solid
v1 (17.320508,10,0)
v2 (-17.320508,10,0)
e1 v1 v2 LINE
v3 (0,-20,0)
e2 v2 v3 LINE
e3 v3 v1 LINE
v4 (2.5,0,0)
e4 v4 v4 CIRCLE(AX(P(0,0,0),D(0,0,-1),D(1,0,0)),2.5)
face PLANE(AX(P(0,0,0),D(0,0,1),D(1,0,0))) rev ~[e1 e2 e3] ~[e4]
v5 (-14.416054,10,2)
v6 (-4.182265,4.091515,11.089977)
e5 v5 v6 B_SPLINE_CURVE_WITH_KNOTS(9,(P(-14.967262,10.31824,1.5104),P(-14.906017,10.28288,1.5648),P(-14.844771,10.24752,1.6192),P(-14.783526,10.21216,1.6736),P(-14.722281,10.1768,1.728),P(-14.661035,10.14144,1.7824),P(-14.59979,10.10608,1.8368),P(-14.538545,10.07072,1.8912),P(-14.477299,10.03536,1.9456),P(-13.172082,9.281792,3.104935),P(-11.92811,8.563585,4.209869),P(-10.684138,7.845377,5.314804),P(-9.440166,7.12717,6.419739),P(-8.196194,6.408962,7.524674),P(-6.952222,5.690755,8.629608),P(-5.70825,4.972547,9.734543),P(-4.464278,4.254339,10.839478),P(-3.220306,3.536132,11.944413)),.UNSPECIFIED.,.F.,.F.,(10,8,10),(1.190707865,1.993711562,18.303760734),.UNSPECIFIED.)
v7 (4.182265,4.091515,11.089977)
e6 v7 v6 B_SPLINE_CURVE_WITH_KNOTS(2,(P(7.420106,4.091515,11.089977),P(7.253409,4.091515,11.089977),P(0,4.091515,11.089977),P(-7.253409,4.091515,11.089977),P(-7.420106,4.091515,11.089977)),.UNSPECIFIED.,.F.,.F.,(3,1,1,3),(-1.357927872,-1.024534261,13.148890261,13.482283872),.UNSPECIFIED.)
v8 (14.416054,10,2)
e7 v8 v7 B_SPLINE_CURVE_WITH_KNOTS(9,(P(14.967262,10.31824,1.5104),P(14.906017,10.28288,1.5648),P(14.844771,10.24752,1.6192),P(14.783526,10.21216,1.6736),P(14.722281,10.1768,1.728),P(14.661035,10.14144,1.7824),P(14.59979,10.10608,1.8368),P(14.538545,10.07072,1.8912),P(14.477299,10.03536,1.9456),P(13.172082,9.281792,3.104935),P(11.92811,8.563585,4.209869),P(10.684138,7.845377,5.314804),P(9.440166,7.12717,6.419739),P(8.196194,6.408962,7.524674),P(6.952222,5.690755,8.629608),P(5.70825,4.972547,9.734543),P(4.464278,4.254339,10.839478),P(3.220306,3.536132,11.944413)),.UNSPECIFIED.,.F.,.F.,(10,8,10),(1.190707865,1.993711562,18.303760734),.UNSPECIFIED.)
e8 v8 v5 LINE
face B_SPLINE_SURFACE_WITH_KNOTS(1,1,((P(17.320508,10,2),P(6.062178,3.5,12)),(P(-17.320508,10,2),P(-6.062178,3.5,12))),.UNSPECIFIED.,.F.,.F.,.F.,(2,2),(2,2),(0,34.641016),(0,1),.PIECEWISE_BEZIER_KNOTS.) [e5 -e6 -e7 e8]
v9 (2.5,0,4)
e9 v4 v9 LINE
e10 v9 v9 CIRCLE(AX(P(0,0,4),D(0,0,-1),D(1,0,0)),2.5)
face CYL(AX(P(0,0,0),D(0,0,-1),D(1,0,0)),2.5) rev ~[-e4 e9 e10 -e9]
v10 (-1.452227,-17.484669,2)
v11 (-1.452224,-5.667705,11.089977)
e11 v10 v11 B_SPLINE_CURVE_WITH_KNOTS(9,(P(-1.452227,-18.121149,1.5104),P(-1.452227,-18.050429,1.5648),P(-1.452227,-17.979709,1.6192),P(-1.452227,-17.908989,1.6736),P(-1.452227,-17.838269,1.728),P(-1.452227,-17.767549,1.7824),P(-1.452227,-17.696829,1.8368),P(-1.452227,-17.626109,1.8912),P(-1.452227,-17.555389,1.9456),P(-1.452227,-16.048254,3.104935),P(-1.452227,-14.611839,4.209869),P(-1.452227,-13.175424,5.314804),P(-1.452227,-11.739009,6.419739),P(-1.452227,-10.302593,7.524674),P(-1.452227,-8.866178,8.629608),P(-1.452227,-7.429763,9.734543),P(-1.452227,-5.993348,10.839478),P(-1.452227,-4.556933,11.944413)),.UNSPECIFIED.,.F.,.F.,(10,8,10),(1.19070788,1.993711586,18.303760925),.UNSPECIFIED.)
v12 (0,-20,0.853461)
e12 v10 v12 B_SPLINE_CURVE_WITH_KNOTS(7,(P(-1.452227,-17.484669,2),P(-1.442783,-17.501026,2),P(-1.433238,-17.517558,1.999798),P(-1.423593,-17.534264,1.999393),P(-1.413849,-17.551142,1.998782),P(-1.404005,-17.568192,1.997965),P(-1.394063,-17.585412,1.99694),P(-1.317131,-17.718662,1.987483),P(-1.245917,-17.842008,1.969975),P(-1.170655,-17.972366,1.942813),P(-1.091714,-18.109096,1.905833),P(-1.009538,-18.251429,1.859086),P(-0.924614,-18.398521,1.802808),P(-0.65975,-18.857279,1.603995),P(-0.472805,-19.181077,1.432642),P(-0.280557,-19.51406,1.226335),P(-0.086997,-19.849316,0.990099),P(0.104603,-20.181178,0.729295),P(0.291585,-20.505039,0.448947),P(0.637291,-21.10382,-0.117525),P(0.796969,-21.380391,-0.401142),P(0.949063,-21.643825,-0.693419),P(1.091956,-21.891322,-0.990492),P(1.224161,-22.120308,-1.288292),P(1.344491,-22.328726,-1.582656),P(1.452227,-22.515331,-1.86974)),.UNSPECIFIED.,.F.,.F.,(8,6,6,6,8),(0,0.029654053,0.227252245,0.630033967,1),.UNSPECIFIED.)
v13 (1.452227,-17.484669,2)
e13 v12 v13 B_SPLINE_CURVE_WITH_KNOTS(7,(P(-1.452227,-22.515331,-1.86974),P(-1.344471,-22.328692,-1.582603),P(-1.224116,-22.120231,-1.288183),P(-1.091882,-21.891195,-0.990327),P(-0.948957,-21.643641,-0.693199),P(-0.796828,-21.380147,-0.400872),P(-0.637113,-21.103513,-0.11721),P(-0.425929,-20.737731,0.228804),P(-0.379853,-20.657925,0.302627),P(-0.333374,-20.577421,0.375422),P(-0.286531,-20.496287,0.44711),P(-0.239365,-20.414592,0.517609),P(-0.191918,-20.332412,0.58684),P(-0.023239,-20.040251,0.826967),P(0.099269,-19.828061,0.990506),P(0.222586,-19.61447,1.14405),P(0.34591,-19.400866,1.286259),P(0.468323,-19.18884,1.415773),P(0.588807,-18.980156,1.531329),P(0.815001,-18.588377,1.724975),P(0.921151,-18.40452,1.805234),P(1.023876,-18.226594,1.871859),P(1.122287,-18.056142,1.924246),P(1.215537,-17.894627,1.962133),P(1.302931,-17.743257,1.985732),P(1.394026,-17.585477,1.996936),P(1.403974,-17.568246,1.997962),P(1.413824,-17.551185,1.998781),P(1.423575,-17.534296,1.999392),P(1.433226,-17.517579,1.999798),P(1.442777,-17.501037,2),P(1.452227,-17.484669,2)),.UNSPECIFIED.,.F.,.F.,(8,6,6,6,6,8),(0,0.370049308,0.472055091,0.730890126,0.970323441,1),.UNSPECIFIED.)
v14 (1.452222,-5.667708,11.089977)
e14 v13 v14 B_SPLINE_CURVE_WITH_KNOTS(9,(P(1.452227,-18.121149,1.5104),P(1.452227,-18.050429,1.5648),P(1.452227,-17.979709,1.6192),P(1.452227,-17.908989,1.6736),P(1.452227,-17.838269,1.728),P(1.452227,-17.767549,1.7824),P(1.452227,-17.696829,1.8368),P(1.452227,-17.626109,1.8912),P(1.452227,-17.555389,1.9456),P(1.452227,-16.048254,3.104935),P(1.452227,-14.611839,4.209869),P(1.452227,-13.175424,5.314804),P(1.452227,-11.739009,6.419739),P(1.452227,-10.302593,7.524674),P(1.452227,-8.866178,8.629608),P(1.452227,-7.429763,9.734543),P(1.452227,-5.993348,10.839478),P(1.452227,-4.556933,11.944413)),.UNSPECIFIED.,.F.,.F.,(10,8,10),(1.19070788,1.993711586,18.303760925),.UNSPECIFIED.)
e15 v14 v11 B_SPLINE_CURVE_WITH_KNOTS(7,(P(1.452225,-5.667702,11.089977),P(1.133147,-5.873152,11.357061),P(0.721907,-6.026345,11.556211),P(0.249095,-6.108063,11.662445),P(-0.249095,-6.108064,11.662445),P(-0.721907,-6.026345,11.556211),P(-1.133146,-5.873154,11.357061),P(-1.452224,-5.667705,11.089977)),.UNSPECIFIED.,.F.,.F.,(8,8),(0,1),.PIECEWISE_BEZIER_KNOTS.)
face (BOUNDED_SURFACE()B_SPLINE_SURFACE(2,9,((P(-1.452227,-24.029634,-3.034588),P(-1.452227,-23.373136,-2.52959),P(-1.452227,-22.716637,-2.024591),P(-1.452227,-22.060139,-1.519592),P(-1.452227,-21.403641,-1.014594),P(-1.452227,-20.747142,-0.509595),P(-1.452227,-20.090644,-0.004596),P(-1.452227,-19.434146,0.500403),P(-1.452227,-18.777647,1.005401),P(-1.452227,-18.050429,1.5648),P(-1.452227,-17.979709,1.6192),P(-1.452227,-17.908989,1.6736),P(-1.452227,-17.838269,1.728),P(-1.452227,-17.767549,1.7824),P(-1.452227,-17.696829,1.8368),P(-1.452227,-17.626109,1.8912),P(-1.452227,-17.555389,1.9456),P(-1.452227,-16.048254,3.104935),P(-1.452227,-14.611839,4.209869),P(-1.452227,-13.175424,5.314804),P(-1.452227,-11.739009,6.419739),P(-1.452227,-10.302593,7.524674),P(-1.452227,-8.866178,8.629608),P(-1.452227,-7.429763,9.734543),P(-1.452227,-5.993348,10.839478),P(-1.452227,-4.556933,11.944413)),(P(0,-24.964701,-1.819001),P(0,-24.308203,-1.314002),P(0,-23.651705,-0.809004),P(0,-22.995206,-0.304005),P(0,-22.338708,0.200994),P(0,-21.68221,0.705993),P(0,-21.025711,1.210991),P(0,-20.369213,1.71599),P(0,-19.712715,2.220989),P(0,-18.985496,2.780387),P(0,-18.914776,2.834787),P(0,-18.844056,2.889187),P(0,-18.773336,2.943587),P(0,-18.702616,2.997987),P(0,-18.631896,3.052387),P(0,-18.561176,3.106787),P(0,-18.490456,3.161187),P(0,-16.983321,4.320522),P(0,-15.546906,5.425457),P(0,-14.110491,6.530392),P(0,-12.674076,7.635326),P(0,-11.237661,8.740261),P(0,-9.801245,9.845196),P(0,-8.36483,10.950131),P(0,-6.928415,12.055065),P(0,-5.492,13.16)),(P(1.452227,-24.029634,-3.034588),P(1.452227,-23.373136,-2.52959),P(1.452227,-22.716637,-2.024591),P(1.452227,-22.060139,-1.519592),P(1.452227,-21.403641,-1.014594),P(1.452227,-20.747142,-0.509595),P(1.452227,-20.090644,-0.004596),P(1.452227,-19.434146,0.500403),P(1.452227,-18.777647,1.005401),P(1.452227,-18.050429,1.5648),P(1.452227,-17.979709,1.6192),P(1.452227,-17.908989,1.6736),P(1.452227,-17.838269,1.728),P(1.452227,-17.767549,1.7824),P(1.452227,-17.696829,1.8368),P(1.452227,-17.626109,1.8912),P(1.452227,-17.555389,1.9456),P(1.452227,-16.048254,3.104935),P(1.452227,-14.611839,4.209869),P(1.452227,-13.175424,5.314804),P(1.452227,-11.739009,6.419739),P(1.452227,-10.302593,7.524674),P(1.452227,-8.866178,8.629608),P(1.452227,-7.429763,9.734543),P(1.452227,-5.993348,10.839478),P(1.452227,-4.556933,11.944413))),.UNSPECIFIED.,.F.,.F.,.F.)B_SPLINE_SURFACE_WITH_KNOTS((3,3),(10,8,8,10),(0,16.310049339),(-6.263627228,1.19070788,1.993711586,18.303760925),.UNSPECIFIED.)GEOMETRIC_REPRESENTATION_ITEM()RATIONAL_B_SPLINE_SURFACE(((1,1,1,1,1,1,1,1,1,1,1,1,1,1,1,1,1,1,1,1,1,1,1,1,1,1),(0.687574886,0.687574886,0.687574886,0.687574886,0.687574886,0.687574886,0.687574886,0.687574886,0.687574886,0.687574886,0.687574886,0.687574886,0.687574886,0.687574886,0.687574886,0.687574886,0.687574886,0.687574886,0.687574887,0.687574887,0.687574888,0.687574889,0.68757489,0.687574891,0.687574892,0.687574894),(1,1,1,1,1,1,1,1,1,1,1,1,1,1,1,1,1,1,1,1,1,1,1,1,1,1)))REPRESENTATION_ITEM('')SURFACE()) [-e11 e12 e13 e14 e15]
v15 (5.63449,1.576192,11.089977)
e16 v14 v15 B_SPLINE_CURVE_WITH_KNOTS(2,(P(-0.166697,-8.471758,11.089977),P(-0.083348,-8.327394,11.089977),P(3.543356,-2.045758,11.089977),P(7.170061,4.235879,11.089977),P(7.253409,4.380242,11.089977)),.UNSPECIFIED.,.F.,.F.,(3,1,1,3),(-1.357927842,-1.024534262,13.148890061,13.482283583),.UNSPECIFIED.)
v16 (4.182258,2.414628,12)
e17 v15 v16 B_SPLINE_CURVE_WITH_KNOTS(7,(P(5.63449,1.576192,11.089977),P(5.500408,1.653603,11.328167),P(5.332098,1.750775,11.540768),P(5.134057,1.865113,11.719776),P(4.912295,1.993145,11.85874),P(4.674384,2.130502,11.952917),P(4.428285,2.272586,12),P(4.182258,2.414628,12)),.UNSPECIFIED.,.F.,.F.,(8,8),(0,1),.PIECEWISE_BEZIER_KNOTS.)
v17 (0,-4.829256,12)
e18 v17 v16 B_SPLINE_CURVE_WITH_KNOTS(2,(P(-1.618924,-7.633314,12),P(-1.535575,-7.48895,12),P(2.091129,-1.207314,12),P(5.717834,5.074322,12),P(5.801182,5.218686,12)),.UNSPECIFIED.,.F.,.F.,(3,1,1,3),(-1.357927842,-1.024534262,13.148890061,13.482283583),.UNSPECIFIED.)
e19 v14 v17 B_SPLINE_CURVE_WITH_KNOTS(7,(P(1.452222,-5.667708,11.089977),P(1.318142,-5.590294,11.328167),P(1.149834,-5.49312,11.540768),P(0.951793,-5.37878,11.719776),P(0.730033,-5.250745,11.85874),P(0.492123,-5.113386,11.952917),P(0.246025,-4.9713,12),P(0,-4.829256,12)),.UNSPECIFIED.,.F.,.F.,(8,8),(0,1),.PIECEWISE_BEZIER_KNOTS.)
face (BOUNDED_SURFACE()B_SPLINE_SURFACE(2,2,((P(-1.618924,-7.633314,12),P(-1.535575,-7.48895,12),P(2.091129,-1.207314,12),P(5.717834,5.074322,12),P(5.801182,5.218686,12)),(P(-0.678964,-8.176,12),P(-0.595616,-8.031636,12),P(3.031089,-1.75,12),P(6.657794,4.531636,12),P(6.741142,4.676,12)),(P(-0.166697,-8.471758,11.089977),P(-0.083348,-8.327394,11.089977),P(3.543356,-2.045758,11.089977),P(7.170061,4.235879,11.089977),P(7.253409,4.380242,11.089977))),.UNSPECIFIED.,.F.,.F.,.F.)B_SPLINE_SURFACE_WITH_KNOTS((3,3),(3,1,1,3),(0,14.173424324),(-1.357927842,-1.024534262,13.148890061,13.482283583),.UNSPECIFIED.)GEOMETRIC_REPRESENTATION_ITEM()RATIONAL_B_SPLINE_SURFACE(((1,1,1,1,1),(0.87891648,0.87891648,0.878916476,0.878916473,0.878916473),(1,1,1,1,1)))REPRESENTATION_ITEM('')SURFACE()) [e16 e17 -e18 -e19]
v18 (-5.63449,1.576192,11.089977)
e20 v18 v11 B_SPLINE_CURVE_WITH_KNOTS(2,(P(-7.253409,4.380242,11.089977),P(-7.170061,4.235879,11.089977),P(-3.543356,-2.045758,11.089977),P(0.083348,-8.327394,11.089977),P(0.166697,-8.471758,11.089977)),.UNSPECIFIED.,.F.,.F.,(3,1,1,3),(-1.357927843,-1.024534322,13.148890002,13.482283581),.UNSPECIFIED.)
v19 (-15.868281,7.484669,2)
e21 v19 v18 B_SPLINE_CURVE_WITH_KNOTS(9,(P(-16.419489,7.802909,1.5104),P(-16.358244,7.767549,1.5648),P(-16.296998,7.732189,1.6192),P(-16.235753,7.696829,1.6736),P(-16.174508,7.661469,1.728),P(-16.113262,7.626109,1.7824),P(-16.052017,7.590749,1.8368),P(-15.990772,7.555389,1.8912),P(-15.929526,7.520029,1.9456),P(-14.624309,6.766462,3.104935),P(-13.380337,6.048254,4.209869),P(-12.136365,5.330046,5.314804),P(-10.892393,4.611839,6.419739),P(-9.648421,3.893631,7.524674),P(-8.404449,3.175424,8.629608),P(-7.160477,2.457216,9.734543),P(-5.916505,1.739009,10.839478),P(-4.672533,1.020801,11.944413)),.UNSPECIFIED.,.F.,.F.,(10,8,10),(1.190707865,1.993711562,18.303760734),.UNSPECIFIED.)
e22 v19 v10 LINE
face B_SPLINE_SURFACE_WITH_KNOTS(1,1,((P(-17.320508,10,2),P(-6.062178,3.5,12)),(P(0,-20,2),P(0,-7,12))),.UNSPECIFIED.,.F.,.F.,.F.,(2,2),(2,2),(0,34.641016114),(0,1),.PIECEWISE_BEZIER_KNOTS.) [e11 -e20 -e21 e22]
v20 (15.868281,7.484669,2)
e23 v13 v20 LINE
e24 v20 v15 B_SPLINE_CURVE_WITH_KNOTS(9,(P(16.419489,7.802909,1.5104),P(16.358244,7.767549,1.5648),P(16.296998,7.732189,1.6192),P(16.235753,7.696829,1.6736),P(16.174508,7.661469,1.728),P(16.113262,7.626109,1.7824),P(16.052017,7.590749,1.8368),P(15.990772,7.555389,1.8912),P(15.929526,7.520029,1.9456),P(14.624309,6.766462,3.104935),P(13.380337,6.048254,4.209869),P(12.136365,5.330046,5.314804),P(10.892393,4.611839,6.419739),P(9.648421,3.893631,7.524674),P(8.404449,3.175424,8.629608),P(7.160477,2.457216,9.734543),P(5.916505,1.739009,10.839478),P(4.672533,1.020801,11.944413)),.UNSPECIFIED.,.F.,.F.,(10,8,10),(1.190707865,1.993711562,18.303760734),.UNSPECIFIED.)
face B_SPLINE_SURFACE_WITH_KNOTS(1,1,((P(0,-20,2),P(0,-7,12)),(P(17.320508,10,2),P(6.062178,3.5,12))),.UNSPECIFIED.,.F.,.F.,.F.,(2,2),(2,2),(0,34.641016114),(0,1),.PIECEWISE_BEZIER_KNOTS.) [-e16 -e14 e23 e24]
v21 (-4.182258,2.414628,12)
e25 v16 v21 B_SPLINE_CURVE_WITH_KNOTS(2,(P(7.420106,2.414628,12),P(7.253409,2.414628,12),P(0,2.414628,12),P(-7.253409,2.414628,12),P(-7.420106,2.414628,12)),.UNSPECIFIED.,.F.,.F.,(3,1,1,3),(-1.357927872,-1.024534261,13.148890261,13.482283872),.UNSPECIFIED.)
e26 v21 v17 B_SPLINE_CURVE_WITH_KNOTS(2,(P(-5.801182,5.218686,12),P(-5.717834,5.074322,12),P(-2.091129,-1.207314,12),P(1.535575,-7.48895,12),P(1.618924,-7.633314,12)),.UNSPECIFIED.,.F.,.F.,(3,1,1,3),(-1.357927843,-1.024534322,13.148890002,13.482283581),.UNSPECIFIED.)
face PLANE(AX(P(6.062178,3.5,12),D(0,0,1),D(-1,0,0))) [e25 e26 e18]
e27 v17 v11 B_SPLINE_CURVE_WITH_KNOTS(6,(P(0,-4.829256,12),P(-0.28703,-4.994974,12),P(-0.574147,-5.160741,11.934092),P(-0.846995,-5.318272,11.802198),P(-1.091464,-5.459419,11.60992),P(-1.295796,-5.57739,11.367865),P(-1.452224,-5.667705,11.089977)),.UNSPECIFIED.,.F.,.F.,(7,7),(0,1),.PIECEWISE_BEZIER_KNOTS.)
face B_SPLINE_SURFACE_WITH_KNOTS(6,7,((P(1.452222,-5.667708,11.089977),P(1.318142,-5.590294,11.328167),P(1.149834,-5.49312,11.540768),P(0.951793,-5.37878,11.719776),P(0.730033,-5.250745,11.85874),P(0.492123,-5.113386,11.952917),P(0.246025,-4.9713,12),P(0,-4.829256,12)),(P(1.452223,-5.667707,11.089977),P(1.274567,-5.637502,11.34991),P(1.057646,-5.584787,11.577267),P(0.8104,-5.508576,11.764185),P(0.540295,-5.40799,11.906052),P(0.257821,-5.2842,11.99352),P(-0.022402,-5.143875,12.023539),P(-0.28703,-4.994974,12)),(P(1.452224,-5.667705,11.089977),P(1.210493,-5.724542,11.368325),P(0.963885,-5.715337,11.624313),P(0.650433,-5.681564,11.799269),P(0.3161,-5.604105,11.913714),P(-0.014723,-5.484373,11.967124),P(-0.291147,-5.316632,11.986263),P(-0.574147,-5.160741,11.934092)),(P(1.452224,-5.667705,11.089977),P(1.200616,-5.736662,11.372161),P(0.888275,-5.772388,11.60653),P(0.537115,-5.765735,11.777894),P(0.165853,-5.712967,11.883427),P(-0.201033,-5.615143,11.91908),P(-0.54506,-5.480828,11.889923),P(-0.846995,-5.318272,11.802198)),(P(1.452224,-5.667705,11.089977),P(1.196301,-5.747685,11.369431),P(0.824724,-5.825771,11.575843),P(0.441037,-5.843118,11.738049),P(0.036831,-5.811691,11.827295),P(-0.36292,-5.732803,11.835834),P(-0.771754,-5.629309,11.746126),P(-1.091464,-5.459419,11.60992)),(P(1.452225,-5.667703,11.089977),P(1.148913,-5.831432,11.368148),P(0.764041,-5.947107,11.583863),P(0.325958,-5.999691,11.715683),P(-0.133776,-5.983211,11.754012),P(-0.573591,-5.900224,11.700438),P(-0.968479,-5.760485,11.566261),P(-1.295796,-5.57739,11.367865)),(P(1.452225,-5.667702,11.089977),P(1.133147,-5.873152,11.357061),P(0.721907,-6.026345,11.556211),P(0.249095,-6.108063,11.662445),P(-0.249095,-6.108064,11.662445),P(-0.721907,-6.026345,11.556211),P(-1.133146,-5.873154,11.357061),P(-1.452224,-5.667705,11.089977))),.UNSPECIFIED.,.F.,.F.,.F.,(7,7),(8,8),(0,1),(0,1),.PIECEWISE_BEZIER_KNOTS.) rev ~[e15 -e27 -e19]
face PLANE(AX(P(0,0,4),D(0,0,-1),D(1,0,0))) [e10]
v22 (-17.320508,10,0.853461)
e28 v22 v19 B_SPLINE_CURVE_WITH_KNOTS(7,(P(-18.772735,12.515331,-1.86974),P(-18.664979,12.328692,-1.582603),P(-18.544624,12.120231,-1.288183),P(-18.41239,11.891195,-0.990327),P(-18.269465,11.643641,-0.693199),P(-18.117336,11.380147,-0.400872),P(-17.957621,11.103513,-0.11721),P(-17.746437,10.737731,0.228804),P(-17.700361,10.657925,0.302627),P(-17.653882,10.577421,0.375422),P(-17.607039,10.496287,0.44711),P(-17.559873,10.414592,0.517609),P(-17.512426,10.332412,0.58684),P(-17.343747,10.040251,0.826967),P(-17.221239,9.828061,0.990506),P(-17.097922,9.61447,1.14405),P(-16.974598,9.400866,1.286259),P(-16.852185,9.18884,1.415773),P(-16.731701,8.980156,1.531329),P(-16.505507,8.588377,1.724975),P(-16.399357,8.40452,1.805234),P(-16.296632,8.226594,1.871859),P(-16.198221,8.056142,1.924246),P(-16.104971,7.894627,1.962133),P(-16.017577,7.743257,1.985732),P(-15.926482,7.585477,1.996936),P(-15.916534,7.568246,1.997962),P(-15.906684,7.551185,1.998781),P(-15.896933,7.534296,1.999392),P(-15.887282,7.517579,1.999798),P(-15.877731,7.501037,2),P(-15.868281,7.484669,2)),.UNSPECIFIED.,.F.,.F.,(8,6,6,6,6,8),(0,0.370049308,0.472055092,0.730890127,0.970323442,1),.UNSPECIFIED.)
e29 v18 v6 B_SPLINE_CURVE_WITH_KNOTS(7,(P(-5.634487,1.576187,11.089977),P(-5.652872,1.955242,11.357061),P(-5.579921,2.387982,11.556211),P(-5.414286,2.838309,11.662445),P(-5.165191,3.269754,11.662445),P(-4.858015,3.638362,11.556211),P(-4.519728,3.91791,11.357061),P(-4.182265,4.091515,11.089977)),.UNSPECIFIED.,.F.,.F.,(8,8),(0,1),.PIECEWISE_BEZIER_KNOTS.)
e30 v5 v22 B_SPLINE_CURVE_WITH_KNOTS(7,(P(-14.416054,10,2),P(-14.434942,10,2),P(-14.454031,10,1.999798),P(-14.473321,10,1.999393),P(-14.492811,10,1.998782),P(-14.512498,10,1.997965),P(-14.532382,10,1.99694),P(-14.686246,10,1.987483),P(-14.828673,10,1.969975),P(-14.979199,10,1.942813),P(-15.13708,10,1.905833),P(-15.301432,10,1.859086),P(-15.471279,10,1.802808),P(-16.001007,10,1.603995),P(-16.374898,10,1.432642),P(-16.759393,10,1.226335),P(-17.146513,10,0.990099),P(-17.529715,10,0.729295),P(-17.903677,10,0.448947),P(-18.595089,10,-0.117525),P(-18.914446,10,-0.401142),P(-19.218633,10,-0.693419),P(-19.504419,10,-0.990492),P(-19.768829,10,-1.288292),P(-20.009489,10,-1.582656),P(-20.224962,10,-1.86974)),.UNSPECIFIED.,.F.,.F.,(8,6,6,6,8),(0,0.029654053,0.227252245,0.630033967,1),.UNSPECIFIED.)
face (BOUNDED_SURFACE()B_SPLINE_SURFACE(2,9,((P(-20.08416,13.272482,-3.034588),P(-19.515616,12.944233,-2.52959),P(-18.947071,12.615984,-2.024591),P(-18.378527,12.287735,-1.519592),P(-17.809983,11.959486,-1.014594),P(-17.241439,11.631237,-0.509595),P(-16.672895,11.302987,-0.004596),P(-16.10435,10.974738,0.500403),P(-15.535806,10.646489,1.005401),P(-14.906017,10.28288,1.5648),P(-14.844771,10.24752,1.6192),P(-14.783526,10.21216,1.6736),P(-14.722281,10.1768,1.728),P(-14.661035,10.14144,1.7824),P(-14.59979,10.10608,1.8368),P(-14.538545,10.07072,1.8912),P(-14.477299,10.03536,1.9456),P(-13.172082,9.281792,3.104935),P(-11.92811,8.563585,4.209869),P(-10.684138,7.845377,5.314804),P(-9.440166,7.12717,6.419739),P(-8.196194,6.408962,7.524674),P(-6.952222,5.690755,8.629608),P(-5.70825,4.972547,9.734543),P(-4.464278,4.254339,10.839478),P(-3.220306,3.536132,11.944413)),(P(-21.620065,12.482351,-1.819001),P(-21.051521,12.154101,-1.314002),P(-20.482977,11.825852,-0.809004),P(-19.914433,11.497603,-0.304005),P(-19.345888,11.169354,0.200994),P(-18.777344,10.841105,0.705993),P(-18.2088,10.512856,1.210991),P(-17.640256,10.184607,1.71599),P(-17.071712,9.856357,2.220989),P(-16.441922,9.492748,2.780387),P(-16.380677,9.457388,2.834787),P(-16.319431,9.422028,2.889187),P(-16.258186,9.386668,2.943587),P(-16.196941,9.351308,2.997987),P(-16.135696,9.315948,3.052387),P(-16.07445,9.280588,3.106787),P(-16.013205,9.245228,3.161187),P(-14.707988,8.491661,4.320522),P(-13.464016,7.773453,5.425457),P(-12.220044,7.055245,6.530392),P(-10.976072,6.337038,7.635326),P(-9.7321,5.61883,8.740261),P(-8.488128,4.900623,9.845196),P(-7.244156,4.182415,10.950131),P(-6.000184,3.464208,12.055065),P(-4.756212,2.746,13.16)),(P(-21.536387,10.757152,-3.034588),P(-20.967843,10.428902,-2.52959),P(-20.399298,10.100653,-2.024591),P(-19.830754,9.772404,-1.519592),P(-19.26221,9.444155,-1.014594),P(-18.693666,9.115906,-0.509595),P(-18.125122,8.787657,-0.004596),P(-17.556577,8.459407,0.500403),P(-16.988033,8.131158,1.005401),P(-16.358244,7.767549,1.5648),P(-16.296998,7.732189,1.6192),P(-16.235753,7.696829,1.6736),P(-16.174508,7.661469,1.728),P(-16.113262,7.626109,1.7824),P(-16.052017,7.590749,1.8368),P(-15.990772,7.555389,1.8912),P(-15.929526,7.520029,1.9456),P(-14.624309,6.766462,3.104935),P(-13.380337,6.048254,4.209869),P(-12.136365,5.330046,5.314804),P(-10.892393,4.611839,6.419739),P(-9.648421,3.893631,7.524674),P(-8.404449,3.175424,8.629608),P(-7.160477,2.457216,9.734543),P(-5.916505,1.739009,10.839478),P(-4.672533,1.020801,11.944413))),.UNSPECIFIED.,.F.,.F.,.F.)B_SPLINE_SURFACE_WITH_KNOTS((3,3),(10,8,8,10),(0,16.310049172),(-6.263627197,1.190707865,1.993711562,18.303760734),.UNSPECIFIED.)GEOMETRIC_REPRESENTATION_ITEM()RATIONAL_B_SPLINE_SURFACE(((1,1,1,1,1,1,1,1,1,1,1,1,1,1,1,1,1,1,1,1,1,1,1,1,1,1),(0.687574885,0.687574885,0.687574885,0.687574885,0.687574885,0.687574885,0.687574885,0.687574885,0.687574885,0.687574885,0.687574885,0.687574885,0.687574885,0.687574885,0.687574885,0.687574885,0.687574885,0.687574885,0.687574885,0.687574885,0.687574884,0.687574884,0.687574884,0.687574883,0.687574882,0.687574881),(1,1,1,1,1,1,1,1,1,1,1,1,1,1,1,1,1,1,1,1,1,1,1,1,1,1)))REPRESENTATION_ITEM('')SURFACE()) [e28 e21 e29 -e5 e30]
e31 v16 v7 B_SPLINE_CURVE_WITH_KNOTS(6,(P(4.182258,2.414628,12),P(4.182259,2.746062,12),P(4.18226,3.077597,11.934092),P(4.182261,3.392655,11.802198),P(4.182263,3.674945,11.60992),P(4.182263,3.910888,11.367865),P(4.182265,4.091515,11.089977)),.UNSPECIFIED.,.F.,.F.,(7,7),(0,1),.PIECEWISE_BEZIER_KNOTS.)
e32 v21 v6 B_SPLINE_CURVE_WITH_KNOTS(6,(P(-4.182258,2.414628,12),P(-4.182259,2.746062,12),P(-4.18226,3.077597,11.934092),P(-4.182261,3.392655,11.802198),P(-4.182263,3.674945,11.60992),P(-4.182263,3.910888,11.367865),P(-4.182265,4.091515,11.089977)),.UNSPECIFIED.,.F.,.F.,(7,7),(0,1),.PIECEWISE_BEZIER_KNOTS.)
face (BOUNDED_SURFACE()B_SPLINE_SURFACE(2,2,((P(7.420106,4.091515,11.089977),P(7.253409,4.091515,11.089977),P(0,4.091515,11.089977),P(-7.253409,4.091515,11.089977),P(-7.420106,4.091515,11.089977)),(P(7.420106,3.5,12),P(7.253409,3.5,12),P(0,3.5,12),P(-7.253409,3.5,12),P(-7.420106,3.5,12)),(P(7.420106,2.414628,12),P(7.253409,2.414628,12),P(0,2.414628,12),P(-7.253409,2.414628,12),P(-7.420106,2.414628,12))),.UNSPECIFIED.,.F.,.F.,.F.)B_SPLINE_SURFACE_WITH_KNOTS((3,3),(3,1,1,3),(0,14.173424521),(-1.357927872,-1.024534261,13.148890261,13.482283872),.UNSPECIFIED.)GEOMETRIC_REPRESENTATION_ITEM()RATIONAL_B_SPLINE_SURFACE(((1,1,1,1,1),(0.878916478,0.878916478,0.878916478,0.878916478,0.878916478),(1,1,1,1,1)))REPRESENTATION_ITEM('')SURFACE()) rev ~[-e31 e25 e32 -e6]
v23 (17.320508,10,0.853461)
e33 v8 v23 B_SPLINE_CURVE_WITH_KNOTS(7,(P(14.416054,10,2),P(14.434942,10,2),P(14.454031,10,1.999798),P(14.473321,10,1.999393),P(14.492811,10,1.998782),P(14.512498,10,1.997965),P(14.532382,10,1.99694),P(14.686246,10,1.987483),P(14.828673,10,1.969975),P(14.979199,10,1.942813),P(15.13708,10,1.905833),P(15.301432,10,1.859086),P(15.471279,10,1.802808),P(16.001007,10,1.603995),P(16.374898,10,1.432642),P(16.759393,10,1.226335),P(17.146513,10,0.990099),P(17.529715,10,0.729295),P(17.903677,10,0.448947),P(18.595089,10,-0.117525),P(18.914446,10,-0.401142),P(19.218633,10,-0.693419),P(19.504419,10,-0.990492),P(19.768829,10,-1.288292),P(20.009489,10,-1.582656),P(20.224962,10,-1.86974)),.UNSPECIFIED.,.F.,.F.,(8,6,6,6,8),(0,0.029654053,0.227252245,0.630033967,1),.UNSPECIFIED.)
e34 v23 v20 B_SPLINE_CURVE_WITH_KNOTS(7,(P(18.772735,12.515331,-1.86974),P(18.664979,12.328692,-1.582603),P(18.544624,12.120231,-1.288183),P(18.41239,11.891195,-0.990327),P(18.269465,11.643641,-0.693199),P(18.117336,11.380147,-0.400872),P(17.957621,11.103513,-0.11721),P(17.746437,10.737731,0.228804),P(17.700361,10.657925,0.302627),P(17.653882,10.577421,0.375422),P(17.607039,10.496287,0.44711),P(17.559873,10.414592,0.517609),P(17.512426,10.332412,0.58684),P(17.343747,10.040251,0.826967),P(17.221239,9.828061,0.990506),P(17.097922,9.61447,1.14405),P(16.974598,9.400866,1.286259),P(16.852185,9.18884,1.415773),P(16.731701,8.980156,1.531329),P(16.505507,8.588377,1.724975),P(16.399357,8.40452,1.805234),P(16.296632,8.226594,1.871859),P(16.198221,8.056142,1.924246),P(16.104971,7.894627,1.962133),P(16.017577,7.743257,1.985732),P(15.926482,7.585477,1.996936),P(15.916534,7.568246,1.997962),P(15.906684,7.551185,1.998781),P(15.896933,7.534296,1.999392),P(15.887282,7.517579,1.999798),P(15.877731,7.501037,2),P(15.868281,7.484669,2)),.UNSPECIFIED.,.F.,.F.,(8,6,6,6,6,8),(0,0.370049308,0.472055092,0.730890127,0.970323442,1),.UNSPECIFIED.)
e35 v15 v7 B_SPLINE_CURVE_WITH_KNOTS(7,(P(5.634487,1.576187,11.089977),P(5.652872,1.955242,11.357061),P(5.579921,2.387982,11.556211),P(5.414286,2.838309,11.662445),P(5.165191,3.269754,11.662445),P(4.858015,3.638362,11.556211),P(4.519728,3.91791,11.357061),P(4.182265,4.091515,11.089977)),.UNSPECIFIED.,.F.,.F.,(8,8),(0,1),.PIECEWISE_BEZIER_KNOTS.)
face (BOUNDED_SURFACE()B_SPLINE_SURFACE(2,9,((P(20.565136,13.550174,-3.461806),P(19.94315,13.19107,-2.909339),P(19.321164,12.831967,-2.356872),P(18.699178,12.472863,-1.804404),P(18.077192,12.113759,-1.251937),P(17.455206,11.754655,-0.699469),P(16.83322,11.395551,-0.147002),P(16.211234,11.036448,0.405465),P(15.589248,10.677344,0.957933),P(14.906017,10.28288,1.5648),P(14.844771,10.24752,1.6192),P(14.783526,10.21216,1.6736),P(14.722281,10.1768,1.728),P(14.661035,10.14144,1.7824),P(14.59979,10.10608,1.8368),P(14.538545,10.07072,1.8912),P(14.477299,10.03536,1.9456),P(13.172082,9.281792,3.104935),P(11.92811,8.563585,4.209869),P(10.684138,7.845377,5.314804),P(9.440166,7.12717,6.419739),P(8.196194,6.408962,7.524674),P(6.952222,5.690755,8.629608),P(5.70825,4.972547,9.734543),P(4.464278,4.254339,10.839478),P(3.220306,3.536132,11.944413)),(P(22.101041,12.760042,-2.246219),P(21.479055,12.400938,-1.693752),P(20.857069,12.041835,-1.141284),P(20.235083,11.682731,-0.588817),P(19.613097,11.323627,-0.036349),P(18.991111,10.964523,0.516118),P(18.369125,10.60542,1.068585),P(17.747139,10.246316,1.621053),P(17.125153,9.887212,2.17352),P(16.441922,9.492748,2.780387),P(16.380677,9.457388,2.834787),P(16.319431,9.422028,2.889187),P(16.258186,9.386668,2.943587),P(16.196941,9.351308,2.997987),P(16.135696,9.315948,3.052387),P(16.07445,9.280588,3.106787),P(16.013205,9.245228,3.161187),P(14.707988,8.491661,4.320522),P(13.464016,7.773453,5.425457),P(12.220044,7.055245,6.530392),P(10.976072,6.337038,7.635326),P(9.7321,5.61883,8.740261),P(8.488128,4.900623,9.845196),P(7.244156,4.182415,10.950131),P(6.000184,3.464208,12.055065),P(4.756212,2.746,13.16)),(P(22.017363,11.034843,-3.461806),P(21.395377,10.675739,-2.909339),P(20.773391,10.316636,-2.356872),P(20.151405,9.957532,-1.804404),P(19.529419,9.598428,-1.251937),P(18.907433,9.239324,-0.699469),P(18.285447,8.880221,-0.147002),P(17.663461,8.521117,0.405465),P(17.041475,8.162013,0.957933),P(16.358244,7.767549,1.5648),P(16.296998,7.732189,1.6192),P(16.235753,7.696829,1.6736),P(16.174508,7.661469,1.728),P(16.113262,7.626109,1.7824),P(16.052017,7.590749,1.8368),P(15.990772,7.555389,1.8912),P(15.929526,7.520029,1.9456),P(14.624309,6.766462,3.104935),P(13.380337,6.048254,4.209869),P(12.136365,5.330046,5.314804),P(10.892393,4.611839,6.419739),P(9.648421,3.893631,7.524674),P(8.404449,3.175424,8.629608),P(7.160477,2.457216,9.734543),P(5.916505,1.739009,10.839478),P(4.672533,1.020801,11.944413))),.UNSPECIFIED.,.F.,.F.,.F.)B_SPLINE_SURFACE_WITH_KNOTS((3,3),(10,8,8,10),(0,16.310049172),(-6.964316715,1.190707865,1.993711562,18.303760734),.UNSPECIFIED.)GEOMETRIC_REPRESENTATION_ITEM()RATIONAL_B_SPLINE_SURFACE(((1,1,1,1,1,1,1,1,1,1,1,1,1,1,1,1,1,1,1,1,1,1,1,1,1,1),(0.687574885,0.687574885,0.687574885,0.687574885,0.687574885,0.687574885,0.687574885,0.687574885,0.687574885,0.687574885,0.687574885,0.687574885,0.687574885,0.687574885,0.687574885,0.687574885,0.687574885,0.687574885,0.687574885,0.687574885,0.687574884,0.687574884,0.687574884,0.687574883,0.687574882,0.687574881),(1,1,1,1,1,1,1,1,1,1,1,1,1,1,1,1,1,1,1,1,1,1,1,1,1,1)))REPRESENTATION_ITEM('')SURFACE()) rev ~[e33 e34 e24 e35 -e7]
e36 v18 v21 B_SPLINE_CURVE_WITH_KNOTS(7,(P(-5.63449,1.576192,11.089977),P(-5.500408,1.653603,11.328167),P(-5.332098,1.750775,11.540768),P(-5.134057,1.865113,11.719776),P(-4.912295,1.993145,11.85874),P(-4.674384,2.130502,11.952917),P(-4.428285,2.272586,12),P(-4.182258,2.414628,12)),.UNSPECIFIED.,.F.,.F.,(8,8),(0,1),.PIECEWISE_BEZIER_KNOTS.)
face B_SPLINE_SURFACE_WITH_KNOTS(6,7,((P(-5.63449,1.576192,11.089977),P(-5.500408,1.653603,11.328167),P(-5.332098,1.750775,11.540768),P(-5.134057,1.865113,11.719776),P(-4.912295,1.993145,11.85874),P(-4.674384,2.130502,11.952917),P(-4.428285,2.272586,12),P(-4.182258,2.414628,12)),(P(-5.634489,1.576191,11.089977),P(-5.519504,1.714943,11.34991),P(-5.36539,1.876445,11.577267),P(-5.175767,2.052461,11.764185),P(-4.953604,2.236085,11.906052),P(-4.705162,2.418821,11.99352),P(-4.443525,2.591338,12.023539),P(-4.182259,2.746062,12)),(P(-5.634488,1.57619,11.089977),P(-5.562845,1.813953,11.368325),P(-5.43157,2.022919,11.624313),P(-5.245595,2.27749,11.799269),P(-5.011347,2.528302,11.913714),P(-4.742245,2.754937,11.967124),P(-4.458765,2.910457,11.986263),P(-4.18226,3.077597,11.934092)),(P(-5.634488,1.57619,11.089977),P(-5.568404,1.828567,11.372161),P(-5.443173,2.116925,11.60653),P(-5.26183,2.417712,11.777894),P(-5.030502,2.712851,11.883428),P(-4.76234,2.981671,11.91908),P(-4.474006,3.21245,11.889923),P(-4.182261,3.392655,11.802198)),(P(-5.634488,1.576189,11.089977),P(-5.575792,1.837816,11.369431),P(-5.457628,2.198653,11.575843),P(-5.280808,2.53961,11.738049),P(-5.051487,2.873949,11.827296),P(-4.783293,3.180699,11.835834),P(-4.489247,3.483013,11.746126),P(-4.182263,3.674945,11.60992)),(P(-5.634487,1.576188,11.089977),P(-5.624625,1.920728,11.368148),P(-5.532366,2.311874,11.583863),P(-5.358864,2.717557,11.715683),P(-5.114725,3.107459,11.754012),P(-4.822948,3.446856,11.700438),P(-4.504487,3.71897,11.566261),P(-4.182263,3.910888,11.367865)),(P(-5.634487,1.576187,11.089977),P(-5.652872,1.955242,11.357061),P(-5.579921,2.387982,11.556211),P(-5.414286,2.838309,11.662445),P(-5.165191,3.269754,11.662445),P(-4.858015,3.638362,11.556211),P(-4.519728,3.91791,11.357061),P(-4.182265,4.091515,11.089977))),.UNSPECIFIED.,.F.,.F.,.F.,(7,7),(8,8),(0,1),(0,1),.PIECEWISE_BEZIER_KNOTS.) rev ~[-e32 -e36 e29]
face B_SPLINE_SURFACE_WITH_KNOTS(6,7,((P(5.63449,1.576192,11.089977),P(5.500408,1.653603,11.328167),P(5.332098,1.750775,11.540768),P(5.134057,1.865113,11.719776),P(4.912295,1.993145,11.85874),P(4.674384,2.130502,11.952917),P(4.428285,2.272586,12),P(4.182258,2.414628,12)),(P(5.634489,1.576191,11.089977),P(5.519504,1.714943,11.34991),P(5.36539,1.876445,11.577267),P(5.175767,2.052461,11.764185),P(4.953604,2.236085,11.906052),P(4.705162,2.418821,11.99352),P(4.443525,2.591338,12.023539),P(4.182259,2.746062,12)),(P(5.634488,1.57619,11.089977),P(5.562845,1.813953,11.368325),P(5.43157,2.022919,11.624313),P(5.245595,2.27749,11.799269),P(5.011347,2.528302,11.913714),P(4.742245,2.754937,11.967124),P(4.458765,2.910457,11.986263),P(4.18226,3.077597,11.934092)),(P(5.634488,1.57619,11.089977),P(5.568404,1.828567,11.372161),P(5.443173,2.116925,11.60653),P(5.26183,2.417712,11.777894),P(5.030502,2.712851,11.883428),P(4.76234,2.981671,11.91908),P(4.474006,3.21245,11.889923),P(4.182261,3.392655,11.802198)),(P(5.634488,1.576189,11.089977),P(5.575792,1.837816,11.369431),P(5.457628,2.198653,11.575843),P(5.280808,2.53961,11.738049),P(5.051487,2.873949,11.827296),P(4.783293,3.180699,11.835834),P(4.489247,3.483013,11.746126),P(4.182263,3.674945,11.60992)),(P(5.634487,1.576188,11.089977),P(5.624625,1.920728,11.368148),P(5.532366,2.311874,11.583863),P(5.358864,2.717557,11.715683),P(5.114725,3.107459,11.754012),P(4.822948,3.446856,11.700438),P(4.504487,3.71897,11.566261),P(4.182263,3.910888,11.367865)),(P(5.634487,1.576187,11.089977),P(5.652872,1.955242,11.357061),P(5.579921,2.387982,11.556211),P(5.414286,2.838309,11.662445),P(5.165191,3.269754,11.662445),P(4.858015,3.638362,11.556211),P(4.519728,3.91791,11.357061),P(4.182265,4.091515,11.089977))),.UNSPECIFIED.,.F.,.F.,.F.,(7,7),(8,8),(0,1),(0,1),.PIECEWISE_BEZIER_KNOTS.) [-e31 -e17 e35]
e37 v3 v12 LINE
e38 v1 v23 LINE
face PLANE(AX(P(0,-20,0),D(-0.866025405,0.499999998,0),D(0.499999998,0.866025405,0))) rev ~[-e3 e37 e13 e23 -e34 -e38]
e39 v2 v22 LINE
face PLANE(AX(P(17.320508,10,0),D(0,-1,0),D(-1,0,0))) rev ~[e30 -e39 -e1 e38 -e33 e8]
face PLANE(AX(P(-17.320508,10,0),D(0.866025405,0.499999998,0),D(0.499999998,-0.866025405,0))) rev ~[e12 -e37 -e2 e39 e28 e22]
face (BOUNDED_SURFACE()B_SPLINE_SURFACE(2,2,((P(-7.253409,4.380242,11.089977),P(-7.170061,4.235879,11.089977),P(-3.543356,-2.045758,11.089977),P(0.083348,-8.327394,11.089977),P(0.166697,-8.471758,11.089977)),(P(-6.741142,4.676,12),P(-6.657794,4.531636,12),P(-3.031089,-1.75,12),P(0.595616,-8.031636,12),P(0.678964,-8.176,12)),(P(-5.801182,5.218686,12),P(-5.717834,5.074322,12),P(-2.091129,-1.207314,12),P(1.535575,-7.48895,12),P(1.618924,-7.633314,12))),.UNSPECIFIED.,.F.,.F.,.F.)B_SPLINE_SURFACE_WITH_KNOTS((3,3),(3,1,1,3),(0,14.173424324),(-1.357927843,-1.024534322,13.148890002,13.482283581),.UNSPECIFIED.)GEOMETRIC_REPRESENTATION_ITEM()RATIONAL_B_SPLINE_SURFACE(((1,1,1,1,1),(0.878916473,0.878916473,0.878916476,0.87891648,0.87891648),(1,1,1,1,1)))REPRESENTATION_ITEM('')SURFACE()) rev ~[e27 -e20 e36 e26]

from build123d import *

# Parameters (mm, degrees)
PAD002_DEPTH    = 2
SKETCH016_R     = 2.5
POCKET001_DEPTH = 4
FILLET001_R     = 2


with BuildPart() as part:
    # Sketch013 → Pad002 (new body)
    with BuildSketch(Plane.XY):
        Polygon((17.320508, 10), (-17.320508, 10), (0, -20), align=None)
    extrude(amount=PAD002_DEPTH)

    # Sketch015 (on Face5 of Pad002) → AdditiveLoft004 section 0
    with BuildSketch(Plane.XY.offset(2)):
        Polygon((17.320508, 10), (-17.320508, 10), (0, -20), align=None)
    # Sketch014 (on Face5 of Pad002) → AdditiveLoft004 section 1
    with BuildSketch(Plane.XY.offset(12)):
        Polygon((0, -7), (6.062178, 3.5), (-6.062178, 3.5), align=None)
    loft()

    # Sketch016 (on Face4 of AdditiveLoft004) → Pocket001 (cut)
    with BuildSketch(Plane(origin=(0, 0, 0), x_dir=(1, 0, 0), z_dir=(0, 0, -1))):
        Circle(SKETCH016_R)
    extrude(amount=-POCKET001_DEPTH, mode=Mode.SUBTRACT)

    # Fillet001
    fillet001_edges = [part.edges().sort_by_distance(p)[0] for p in [
        (11.691343, 6.75, 7),
        (0, 3.5, 12),
        (-3.031089, -1.75, 12),
        (-11.691343, 6.75, 7),
        (3.031089, -1.75, 12),
        (0, -13.5, 7),
    ]]
    fillet(fillet001_edges, radius=FILLET001_R)


solid = part.part
